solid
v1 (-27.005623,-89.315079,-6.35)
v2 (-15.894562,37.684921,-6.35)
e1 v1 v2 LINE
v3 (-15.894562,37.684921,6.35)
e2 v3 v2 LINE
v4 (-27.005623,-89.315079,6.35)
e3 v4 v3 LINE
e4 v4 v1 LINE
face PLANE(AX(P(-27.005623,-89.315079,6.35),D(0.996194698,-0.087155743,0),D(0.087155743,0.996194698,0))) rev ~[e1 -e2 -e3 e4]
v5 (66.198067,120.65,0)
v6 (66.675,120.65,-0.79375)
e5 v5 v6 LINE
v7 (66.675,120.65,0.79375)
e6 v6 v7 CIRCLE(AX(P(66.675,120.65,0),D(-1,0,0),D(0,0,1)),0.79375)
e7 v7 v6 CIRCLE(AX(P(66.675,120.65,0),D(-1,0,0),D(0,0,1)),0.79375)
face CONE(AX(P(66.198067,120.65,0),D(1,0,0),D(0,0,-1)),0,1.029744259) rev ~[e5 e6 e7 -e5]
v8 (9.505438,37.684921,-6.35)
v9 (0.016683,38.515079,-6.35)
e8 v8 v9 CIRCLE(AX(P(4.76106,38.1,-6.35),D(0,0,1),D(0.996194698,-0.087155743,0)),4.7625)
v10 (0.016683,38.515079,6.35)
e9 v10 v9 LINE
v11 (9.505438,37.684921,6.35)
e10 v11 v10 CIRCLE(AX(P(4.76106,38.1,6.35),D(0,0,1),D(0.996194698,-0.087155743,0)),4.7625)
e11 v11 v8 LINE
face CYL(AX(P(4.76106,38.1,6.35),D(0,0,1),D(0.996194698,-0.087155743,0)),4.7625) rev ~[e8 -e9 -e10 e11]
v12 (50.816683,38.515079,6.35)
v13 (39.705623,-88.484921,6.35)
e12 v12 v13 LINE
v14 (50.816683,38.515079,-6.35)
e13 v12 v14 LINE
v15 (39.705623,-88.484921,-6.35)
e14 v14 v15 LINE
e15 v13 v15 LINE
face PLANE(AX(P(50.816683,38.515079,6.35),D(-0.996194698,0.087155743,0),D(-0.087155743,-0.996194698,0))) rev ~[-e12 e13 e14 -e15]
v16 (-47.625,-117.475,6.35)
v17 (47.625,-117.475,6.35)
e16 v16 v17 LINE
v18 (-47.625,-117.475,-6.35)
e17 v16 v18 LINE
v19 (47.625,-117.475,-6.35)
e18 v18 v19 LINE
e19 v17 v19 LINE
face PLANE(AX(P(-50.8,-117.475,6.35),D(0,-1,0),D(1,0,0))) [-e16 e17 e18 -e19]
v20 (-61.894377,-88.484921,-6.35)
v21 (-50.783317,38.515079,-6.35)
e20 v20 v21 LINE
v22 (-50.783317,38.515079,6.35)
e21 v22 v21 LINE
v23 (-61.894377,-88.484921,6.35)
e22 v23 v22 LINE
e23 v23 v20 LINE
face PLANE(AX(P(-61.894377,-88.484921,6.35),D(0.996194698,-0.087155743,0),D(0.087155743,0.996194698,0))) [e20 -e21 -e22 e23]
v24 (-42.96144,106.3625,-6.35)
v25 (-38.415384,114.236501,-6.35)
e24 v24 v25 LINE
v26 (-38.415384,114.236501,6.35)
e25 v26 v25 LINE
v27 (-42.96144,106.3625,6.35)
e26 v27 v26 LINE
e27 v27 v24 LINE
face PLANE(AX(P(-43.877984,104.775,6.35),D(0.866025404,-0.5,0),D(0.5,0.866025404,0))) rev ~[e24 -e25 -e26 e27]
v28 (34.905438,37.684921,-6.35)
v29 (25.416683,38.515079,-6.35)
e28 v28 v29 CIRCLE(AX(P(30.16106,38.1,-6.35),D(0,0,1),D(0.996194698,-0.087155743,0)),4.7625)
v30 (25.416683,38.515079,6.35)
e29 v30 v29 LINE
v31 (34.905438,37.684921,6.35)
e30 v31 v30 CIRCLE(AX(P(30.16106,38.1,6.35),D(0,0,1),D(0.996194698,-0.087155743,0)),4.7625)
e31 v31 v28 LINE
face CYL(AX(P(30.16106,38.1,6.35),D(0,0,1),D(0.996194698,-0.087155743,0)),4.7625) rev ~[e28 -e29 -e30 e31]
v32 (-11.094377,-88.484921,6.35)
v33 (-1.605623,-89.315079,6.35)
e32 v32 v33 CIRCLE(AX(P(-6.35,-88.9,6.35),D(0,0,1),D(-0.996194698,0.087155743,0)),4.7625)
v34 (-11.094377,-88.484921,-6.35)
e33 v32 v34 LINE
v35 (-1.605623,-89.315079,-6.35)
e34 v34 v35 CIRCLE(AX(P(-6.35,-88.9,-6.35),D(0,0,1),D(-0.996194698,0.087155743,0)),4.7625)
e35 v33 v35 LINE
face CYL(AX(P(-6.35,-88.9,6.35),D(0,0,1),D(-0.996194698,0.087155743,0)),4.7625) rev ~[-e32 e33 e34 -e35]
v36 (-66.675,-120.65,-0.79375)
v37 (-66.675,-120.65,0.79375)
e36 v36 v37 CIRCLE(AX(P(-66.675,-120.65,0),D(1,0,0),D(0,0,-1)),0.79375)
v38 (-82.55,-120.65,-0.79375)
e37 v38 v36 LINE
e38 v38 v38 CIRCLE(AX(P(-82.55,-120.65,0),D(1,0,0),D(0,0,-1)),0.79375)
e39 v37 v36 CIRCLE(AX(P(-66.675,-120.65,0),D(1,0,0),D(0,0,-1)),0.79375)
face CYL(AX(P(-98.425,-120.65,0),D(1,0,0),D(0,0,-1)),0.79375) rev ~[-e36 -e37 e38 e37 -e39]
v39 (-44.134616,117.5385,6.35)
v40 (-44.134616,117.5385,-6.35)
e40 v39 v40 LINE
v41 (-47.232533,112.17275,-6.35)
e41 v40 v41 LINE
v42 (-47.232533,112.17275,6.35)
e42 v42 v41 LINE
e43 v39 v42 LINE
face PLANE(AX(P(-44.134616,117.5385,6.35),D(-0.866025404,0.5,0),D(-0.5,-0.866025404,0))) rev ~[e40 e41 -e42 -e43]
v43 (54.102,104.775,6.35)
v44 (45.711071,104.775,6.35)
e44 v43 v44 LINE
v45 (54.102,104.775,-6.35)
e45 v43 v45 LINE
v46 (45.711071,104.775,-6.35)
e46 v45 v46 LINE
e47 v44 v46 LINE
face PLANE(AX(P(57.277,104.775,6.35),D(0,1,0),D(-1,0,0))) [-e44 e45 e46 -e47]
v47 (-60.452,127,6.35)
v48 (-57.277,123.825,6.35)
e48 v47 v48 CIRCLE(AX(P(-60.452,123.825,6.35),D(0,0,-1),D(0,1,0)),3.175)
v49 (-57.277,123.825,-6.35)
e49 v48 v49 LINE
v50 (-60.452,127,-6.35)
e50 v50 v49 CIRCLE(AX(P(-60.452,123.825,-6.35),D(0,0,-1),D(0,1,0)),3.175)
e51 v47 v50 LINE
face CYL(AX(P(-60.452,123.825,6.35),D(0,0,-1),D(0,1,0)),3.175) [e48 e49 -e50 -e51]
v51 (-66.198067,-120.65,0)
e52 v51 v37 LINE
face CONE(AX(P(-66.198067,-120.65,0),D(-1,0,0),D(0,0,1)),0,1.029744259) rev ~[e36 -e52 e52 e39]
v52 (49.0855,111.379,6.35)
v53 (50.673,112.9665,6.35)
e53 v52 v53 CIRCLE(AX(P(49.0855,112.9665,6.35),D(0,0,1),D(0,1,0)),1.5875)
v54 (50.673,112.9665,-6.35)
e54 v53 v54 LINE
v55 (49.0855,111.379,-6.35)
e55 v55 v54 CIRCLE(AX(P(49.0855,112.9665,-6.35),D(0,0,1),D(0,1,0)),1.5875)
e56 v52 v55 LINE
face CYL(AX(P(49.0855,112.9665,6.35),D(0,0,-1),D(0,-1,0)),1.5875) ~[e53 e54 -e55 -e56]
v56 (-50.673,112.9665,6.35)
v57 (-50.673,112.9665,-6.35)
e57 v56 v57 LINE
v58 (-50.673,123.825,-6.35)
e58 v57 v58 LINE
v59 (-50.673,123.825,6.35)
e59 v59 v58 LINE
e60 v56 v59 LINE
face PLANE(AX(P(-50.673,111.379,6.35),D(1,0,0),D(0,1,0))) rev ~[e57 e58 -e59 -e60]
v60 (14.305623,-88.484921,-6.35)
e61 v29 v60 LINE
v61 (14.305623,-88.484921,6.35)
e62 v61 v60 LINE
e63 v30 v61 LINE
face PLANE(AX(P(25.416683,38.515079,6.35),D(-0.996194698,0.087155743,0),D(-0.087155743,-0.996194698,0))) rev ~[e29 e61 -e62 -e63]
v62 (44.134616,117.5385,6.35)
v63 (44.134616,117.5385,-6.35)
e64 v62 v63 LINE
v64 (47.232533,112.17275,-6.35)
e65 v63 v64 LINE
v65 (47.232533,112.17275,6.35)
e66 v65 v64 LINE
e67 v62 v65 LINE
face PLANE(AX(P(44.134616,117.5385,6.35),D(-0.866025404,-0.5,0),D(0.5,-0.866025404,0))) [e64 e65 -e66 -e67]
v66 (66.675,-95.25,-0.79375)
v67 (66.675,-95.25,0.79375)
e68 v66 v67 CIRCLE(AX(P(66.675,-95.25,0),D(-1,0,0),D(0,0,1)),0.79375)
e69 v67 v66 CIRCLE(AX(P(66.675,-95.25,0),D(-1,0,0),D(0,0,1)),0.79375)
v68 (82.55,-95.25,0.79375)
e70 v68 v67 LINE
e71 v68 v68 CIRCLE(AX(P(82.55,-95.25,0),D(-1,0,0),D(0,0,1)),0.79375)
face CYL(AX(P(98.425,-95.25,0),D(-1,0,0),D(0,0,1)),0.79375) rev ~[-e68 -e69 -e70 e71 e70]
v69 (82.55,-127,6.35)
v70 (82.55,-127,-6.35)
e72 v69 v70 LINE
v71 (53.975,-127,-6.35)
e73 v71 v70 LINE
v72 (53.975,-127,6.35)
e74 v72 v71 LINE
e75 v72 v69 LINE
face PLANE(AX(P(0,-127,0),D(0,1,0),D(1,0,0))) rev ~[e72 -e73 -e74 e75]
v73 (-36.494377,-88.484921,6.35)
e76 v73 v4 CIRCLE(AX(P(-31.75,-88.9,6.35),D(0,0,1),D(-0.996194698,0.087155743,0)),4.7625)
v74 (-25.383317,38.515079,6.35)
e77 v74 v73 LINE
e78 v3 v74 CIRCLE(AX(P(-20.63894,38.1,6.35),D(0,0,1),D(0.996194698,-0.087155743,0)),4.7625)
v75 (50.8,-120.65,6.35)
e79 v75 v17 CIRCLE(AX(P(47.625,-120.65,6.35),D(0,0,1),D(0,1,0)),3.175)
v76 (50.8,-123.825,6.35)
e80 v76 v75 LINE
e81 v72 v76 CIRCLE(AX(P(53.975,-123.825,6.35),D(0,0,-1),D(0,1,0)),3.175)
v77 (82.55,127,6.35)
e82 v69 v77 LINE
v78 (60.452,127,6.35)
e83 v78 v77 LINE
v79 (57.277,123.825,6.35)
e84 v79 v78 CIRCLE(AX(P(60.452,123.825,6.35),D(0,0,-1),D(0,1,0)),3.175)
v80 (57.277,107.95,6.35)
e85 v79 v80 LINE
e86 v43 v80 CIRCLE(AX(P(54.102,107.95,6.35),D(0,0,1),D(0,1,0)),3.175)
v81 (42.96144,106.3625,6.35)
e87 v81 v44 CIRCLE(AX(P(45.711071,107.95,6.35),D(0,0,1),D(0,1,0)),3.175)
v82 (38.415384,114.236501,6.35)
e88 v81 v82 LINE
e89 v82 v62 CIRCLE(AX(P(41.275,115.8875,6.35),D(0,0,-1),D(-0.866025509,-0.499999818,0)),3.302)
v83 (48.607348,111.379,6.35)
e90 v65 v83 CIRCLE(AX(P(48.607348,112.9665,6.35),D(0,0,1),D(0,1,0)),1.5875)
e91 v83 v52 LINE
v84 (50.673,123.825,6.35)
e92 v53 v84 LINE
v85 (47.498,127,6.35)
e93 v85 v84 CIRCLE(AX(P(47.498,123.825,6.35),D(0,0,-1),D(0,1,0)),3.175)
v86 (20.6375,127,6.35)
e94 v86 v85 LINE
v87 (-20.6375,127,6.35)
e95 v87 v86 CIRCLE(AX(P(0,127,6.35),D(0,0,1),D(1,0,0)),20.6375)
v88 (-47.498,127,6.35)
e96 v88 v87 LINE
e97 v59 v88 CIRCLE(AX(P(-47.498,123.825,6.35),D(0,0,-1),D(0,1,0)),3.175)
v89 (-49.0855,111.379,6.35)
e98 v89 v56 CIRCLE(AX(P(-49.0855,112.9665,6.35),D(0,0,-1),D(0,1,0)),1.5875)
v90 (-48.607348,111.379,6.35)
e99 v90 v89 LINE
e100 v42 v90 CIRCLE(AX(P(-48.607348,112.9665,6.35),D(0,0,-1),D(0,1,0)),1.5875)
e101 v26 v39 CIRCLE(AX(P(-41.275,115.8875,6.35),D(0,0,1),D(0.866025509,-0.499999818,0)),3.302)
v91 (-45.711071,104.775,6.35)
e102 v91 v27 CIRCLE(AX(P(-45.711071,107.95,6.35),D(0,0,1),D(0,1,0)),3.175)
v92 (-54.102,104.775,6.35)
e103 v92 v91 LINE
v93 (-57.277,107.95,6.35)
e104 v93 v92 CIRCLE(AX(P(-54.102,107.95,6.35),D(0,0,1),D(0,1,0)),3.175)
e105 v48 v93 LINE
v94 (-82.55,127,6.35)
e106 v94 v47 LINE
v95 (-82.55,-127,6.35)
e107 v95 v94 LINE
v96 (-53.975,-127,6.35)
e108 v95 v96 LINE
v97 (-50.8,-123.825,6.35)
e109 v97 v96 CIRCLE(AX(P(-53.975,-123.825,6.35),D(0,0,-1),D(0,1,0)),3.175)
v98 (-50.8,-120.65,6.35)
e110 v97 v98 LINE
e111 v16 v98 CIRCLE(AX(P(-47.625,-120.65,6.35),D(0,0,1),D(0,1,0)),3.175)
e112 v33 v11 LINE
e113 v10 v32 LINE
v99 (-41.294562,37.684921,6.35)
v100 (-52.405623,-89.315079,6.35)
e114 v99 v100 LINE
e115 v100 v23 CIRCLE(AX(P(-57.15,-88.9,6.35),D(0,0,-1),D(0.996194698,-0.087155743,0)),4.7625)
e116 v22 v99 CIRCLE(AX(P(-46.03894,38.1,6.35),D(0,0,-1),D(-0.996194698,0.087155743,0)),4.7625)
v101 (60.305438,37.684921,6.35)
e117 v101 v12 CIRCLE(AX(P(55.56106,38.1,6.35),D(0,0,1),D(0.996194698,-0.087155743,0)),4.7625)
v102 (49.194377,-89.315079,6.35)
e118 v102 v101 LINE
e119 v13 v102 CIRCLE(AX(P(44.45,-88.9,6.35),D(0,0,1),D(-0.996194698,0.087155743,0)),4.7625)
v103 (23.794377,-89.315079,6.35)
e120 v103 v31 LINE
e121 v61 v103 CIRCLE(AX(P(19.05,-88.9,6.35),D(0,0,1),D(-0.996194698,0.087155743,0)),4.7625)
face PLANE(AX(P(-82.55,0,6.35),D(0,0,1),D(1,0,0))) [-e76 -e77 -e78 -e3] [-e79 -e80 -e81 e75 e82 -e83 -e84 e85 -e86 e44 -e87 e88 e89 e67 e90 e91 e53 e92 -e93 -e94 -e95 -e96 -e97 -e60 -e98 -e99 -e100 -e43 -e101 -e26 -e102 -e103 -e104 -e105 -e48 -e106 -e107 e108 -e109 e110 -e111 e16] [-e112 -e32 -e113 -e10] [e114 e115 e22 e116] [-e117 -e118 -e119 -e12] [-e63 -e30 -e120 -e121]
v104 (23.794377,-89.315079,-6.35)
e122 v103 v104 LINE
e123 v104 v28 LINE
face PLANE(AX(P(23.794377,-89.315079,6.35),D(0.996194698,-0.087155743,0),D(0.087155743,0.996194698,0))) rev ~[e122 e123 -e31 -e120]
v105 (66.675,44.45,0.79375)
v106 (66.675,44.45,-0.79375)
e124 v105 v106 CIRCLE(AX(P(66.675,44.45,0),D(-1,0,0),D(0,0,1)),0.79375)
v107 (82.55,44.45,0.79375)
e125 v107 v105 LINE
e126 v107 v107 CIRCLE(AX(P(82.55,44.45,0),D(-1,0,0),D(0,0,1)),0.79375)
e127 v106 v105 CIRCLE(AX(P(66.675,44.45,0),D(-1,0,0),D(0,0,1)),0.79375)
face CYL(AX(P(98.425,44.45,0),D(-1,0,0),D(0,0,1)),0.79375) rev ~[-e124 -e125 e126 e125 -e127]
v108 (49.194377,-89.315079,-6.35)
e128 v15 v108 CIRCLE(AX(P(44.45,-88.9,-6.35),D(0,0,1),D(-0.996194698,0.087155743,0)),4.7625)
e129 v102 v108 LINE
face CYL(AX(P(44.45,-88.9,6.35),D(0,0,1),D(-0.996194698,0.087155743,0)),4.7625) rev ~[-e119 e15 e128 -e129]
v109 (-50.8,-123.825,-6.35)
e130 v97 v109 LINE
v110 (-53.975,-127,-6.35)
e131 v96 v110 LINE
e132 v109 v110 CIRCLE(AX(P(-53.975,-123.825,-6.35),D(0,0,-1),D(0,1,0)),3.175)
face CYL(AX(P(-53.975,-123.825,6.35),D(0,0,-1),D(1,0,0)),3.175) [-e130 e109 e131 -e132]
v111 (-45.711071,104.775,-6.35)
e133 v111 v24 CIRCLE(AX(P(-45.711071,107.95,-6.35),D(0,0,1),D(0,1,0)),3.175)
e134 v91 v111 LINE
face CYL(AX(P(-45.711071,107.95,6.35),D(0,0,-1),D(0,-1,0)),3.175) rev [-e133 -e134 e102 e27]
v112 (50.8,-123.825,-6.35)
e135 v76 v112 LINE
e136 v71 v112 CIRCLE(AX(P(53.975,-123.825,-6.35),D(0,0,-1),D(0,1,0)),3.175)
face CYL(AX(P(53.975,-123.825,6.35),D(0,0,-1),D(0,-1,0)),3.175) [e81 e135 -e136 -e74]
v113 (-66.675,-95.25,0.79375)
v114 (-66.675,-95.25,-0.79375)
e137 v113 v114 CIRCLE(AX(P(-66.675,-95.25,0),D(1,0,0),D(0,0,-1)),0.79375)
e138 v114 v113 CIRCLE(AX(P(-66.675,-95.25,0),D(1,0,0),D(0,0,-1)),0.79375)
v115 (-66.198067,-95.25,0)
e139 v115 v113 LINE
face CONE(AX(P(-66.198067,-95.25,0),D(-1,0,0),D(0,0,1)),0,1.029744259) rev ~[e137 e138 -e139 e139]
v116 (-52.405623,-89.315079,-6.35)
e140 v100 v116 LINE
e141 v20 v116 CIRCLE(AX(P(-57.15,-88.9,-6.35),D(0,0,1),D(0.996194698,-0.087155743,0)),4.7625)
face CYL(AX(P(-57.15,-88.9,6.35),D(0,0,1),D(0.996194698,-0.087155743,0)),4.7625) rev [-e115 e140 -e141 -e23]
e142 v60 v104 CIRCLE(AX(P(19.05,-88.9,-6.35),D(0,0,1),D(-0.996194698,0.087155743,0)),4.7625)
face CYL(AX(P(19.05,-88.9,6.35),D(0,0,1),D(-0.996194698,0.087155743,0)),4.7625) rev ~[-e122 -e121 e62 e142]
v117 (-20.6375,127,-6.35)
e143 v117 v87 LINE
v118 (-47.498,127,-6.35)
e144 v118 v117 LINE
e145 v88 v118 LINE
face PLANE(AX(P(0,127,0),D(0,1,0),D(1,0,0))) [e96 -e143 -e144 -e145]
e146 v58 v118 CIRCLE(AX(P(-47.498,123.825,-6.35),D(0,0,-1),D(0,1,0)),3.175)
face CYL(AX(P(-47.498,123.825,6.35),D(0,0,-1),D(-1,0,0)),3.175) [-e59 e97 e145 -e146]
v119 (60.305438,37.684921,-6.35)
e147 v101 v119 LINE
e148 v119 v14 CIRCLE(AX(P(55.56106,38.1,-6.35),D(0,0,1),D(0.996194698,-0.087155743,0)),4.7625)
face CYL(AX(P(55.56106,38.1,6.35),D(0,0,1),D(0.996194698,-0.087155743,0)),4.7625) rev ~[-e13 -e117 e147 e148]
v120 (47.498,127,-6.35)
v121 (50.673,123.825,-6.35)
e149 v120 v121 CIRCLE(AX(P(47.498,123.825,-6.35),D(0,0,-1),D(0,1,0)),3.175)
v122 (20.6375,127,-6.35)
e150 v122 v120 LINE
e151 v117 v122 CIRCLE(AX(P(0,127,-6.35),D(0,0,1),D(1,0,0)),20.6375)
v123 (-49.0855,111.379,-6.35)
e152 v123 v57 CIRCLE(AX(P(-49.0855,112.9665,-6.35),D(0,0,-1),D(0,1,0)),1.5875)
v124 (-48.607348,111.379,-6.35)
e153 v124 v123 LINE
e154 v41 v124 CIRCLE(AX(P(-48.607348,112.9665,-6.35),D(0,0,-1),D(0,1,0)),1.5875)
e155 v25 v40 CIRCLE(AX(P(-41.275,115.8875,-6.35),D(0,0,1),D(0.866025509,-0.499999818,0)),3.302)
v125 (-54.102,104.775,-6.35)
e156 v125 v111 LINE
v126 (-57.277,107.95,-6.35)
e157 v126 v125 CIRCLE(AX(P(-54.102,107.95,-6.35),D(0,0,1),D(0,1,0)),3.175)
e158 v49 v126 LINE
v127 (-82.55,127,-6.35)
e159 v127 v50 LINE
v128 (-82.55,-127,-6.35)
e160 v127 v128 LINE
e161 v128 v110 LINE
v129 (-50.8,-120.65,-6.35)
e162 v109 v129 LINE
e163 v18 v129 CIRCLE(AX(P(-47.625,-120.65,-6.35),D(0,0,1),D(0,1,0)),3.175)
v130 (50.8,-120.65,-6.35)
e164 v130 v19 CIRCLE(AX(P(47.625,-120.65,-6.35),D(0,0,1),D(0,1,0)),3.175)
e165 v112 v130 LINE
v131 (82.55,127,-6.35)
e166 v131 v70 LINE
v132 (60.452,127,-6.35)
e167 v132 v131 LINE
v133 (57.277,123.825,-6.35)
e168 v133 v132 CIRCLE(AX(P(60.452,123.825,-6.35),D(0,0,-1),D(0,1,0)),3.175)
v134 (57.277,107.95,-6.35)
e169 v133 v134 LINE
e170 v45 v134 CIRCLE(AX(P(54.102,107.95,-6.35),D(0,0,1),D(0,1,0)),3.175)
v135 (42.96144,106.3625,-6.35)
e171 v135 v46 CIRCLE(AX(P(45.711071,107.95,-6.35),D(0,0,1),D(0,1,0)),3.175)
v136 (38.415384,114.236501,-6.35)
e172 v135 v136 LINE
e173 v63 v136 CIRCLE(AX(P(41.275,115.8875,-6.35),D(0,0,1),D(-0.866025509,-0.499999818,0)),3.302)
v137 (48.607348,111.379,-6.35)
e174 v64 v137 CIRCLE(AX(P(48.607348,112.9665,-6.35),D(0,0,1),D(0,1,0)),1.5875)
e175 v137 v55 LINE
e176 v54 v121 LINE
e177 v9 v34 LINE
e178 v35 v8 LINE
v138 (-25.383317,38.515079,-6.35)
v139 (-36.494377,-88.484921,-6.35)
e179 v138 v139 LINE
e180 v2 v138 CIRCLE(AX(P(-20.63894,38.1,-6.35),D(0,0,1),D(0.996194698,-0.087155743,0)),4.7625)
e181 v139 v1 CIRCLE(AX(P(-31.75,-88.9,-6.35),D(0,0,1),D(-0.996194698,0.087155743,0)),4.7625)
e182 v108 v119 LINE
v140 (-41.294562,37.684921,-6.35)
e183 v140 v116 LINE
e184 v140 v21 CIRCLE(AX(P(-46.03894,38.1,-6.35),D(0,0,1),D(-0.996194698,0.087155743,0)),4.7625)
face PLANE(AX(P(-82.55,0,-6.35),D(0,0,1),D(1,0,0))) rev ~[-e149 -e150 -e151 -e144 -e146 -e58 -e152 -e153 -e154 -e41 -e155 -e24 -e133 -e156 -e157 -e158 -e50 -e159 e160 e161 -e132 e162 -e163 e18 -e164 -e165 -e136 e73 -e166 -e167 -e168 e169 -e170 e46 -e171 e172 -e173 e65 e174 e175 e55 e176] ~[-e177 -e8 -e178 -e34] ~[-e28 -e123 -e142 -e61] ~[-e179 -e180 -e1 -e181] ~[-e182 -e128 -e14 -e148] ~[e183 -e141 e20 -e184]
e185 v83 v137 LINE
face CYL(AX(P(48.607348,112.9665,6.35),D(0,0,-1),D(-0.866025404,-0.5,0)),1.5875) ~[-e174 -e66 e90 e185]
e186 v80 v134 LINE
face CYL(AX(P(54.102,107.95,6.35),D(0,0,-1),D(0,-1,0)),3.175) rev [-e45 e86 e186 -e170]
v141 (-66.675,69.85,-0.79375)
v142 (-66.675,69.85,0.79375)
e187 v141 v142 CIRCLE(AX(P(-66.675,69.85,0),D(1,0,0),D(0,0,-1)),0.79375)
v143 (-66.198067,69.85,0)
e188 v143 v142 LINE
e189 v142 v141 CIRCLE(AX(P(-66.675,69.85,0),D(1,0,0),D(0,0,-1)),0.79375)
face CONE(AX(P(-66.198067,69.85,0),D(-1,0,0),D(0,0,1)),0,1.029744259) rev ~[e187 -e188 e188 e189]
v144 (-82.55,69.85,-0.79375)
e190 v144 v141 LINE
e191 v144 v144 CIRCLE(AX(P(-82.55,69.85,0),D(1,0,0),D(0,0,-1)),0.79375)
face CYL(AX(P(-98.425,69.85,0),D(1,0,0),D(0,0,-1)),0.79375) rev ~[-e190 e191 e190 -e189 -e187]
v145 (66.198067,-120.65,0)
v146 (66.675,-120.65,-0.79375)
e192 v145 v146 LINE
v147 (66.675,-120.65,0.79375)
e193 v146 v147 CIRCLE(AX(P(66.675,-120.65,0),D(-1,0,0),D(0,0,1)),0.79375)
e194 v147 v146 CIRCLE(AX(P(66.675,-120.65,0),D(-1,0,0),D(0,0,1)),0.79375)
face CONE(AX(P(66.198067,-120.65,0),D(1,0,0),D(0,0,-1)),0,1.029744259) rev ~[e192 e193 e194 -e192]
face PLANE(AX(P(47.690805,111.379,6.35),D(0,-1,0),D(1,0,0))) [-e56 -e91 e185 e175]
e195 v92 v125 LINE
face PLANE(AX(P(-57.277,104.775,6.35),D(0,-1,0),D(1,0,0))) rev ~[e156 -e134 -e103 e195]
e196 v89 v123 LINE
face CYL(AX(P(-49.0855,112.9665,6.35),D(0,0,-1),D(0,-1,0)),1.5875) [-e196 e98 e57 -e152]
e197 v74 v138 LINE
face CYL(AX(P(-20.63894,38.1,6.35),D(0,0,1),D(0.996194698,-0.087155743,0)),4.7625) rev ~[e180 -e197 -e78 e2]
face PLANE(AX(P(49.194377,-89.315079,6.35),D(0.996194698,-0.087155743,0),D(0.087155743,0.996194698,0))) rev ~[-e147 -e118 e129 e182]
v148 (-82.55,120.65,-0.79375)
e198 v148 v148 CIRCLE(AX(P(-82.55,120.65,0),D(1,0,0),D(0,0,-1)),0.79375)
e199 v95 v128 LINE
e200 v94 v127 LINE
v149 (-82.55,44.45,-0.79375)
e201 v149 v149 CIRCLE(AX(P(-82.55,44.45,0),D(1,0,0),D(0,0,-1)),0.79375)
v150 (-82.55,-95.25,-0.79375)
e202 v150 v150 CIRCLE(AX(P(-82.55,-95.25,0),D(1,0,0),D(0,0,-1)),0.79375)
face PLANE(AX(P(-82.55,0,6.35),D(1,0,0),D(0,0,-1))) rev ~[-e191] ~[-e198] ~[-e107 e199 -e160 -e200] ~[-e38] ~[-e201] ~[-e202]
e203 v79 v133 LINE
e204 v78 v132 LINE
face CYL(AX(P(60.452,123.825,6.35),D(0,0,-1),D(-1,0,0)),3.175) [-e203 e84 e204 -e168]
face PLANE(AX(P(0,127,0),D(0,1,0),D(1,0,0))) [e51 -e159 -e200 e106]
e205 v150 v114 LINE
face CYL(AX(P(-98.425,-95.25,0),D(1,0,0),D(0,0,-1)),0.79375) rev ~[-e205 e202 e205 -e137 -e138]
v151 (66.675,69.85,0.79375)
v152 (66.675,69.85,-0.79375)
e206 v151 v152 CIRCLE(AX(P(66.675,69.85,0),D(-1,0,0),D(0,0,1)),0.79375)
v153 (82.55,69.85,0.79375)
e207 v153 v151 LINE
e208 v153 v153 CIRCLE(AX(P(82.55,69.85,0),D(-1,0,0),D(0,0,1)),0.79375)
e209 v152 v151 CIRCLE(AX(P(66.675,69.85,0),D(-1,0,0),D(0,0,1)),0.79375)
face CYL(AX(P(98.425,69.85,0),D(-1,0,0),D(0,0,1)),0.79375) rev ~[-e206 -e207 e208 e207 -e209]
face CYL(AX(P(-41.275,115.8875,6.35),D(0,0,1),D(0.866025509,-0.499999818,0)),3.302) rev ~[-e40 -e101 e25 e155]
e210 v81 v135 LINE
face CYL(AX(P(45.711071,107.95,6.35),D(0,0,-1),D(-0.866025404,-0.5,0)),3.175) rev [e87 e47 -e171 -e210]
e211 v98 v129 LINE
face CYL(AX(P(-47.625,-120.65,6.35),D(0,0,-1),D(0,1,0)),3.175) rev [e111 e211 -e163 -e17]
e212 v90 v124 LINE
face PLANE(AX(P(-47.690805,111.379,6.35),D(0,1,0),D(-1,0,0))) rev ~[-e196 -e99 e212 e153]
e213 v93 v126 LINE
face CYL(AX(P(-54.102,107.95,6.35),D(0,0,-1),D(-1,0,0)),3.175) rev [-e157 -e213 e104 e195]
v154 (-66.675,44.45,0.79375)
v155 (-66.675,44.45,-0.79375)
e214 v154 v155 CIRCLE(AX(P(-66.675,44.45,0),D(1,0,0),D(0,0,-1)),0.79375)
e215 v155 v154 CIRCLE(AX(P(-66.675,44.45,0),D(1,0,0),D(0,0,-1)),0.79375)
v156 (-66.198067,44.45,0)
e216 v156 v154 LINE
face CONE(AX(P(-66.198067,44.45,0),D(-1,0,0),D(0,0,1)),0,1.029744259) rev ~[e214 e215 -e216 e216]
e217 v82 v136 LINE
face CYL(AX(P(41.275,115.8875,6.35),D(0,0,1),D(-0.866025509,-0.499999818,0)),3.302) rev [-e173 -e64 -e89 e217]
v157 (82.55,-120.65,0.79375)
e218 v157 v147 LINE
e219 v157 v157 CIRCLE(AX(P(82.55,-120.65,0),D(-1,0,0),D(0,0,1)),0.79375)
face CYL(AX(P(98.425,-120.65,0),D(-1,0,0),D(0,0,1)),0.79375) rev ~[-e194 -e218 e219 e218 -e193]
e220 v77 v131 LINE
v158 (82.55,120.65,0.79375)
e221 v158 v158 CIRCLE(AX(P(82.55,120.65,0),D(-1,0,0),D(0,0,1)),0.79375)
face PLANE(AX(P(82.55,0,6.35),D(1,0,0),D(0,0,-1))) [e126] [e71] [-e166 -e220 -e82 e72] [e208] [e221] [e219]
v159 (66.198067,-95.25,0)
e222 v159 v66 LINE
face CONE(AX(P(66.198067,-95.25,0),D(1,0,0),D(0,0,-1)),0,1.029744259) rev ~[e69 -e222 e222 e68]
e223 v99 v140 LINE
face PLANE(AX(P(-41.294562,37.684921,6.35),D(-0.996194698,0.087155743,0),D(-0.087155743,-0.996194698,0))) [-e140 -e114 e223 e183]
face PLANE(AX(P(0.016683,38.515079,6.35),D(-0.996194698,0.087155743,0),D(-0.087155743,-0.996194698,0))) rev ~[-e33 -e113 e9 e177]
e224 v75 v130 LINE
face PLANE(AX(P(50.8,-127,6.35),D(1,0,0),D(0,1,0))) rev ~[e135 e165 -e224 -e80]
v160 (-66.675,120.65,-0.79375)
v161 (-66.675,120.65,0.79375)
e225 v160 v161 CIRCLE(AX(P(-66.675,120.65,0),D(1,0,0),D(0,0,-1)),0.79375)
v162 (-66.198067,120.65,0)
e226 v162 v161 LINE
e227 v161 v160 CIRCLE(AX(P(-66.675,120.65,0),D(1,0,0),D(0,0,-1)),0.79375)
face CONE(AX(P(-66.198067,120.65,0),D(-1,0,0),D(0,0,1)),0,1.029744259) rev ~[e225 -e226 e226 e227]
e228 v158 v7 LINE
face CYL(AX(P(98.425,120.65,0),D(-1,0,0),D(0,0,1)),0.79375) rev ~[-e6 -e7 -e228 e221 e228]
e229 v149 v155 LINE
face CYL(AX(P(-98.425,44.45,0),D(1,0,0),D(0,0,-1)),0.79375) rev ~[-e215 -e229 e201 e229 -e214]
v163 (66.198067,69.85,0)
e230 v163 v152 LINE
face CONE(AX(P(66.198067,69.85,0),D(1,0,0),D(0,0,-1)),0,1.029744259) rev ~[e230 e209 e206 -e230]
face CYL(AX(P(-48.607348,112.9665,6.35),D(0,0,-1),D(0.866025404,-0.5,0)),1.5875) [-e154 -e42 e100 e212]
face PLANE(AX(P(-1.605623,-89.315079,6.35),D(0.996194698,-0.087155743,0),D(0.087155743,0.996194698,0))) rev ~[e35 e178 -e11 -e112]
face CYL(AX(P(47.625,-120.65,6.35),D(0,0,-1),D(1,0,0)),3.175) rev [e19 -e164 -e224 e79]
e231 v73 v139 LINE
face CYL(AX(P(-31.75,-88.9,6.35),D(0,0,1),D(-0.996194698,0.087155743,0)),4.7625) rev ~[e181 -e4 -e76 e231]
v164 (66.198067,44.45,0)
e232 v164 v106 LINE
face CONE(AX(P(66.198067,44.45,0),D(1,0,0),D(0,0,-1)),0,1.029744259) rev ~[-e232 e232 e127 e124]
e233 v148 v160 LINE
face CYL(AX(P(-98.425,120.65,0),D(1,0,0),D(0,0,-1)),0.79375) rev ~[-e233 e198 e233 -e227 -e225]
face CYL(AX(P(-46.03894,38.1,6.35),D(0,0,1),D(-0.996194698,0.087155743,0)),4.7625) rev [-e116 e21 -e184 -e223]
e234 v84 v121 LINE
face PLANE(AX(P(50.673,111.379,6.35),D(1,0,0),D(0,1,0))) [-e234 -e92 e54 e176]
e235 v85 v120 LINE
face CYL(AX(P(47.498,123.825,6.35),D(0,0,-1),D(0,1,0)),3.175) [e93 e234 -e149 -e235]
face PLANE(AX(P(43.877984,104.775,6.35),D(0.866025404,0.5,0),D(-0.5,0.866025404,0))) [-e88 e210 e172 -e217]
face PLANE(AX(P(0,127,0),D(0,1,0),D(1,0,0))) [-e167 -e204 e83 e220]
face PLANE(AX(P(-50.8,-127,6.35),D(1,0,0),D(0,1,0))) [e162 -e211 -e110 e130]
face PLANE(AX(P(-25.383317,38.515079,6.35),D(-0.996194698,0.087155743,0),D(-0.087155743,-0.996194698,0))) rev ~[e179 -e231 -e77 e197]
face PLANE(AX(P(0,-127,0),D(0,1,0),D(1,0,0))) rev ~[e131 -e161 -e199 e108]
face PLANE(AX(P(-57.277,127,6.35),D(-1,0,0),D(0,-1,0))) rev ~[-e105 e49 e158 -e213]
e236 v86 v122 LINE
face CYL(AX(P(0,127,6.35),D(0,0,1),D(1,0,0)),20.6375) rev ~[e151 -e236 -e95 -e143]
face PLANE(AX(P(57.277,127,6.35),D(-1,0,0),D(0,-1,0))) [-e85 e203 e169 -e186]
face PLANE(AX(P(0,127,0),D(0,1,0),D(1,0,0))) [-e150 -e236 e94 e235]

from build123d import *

# Parameters (mm, degrees)
SKETCH1_W                          = 165.1
SKETCH1_H                          = 12.7
BOSS_EXTRUDE1_DEPTH                = 127
SKETCH2_R                          = 20.6375
CUT_EXTRUDE1_DEPTH                 = 153.002606886
CUT_EXTRUDE3_DEPTH                 = 153.002606886
FILLET1_R                          = 3.175
FILLET2_R                          = 1.5875
SKETCH5_W                          = 101.6
SKETCH5_H                          = 9.525
CUT_EXTRUDE4_DEPTH                 = 153.002606886
FILLET3_R                          = 3.175
F_1_16_0_0625_DIAMETER_HOLE1_D     = 1.5875
F_1_16_0_0625_DIAMETER_HOLE1_DEPTH = 15.875
F_1_16_0_0625_DIAMETER_HOLE1_TIP   = 0.476933116
F_1_16_0_0625_DIAMETER_HOLE2_D     = 1.5875
F_1_16_0_0625_DIAMETER_HOLE2_DEPTH = 15.875
F_1_16_0_0625_DIAMETER_HOLE2_TIP   = 0.476933116
CUT_EXTRUDE5_DEPTH                 = 153.002606886


with BuildPart() as part:
    # Sketch1 → Boss-Extrude1 (new, symmetric)
    with BuildSketch(Plane(origin=(0, 0, 0), x_dir=(1, 0, 0), z_dir=(0, 1, 0))):
        Rectangle(SKETCH1_W, SKETCH1_H)
    extrude(amount=BOSS_EXTRUDE1_DEPTH, both=True)

    # Sketch2 → Cut-Extrude1 (cut, through all)
    with BuildSketch(Plane.XY.offset(6.35)):
        with Locations((0, 127)):
            Circle(SKETCH2_R)
    extrude(amount=-CUT_EXTRUDE1_DEPTH, mode=Mode.SUBTRACT)

    # Sketch4 → Cut-Extrude3 (cut, through all)
    with BuildSketch(Plane.XY.offset(6.35)):
        with BuildLine():
            Line((57.277, 127), (57.277, 104.775))
            Line((57.277, 104.775), (43.877983689, 104.775))
            Line((43.877983689, 104.775), (38.415383769, 114.236500603))
            ThreePointArc((38.415383769, 114.236500603), (39.624000301, 118.747116057), (44.134615883, 117.5385))
            Line((44.134615883, 117.5385), (47.690804866, 111.379))
            Line((47.690804866, 111.379), (50.673, 111.379))
            Line((50.673, 111.379), (50.673, 127))
            Line((50.673, 127), (57.277, 127))
        make_face()
        with BuildLine():
            Line((-50.673, 127), (-57.277, 127))
            Line((-57.277, 127), (-57.277, 104.775))
            Line((-57.277, 104.775), (-43.877983689, 104.775))
            Line((-43.877983689, 104.775), (-38.415383769, 114.236500603))
            ThreePointArc((-38.415383769, 114.236500603), (-39.624000301, 118.747116057), (-44.134615883, 117.5385))
            Line((-44.134615883, 117.5385), (-47.690804866, 111.379))
            Line((-47.690804866, 111.379), (-50.673, 111.379))
            Line((-50.673, 111.379), (-50.673, 127))
        make_face()
    extrude(amount=-CUT_EXTRUDE3_DEPTH, mode=Mode.SUBTRACT)

    # Fillet1
    fillet1_edges = [part.edges().sort_by_distance(p)[0] for p in [
        (50.673, 127, 0),
        (57.277, 127, 0),
        (57.277, 104.775, 0),
        (43.877983689, 104.775, 0),
        (-43.877983689, 104.775, 0),
        (-57.277, 104.775, 0),
        (-57.277, 127, 0),
        (-50.673, 127, 0),
    ]]
    fillet(fillet1_edges, radius=FILLET1_R)

    # Fillet2
    fillet2_edges = [part.edges().sort_by_distance(p)[0] for p in [
        (47.690804866, 111.379, 0),
        (50.673, 111.379, 0),
        (-50.673, 111.379, 0),
        (-47.690804866, 111.379, 0),
    ]]
    fillet(fillet2_edges, radius=FILLET2_R)

    # Sketch5 → Cut-Extrude4 (cut, through all)
    with BuildSketch(Plane.XY.offset(6.35)):
        with Locations((0, -122.2375)):
            Rectangle(SKETCH5_W, SKETCH5_H)
    extrude(amount=-CUT_EXTRUDE4_DEPTH, mode=Mode.SUBTRACT)

    # Fillet3
    fillet3_edges = [part.edges().sort_by_distance(p)[0] for p in [
        (-50.8, -127, 0),
        (-50.8, -117.475, 0),
        (50.8, -117.475, 0),
        (50.8, -127, 0),
    ]]
    fillet(fillet3_edges, radius=FILLET3_R)

    # 1/16 (0.0625) Diameter Hole1
    with Locations(Plane(origin=(82.55, 0, 0), x_dir=(0, 0, -1), z_dir=(1, 0, 0))):
        with Locations((0, -120.65), (0, -95.25), (0, 44.45), (0, 69.85), (0, 120.65)):
            Hole(F_1_16_0_0625_DIAMETER_HOLE1_D / 2, depth=F_1_16_0_0625_DIAMETER_HOLE1_DEPTH)
            with Locations((0, 0, -(F_1_16_0_0625_DIAMETER_HOLE1_DEPTH + F_1_16_0_0625_DIAMETER_HOLE1_TIP / 2))):  # 118° drill point
                Cone(0, F_1_16_0_0625_DIAMETER_HOLE1_D / 2, F_1_16_0_0625_DIAMETER_HOLE1_TIP, mode=Mode.SUBTRACT)

    # 1/16 (0.0625) Diameter Hole2
    with Locations(Plane.ZY.offset(82.55)):
        with Locations((0, -120.65), (0, -95.25), (0, 44.45), (0, 69.85), (0, 120.65)):
            Hole(F_1_16_0_0625_DIAMETER_HOLE2_D / 2, depth=F_1_16_0_0625_DIAMETER_HOLE2_DEPTH)
            with Locations((0, 0, -(F_1_16_0_0625_DIAMETER_HOLE2_DEPTH + F_1_16_0_0625_DIAMETER_HOLE2_TIP / 2))):  # 118° drill point
                Cone(0, F_1_16_0_0625_DIAMETER_HOLE2_D / 2, F_1_16_0_0625_DIAMETER_HOLE2_TIP, mode=Mode.SUBTRACT)

    # Sketch10 → Cut-Extrude5 (cut, through all)
    with BuildSketch(Plane.XY.offset(6.35)):
        with BuildLine():
            Line((-61.89437725, -88.484920775), (-50.783316982, 38.515079225))
            ThreePointArc((-50.783316982, 38.515079225), (-45.623860507, 42.84437725), (-41.294562483, 37.684920775))
            Line((-41.294562483, 37.684920775), (-52.40562275, -89.315079225))
            ThreePointArc((-52.40562275, -89.315079225), (-57.565079225, -93.64437725), (-61.89437725, -88.484920775))
        make_face()
        with BuildLine():
            Line((-27.00562275, -89.315079225), (-15.894562483, 37.684920775))
            ThreePointArc((-15.894562483, 37.684920775), (-20.223860507, 42.84437725), (-25.383316982, 38.515079225))
            Line((-25.383316982, 38.515079225), (-36.49437725, -88.484920775))
            ThreePointArc((-36.49437725, -88.484920775), (-32.165079225, -93.64437725), (-27.00562275, -89.315079225))
        make_face()
        with BuildLine():
            Line((-1.60562275, -89.315079225), (9.505437517, 37.684920775))
            ThreePointArc((9.505437517, 37.684920775), (5.176139493, 42.84437725), (0.016683018, 38.515079225))
            Line((0.016683018, 38.515079225), (-11.09437725, -88.484920775))
            ThreePointArc((-11.09437725, -88.484920775), (-6.765079225, -93.64437725), (-1.60562275, -89.315079225))
        make_face()
        with BuildLine():
            Line((23.79437725, -89.315079225), (34.905437517, 37.684920775))
            ThreePointArc((34.905437517, 37.684920775), (30.576139493, 42.84437725), (25.416683018, 38.515079225))
            Line((25.416683018, 38.515079225), (14.30562275, -88.484920775))
            ThreePointArc((14.30562275, -88.484920775), (18.634920775, -93.64437725), (23.79437725, -89.315079225))
        make_face()
        with BuildLine():
            Line((49.19437725, -89.315079225), (60.305437517, 37.684920775))
            ThreePointArc((60.305437517, 37.684920775), (55.976139493, 42.84437725), (50.816683018, 38.515079225))
            Line((50.816683018, 38.515079225), (39.70562275, -88.484920775))
            ThreePointArc((39.70562275, -88.484920775), (44.034920775, -93.64437725), (49.19437725, -89.315079225))
        make_face()
    extrude(amount=-CUT_EXTRUDE5_DEPTH, mode=Mode.SUBTRACT)


solid = part.part
